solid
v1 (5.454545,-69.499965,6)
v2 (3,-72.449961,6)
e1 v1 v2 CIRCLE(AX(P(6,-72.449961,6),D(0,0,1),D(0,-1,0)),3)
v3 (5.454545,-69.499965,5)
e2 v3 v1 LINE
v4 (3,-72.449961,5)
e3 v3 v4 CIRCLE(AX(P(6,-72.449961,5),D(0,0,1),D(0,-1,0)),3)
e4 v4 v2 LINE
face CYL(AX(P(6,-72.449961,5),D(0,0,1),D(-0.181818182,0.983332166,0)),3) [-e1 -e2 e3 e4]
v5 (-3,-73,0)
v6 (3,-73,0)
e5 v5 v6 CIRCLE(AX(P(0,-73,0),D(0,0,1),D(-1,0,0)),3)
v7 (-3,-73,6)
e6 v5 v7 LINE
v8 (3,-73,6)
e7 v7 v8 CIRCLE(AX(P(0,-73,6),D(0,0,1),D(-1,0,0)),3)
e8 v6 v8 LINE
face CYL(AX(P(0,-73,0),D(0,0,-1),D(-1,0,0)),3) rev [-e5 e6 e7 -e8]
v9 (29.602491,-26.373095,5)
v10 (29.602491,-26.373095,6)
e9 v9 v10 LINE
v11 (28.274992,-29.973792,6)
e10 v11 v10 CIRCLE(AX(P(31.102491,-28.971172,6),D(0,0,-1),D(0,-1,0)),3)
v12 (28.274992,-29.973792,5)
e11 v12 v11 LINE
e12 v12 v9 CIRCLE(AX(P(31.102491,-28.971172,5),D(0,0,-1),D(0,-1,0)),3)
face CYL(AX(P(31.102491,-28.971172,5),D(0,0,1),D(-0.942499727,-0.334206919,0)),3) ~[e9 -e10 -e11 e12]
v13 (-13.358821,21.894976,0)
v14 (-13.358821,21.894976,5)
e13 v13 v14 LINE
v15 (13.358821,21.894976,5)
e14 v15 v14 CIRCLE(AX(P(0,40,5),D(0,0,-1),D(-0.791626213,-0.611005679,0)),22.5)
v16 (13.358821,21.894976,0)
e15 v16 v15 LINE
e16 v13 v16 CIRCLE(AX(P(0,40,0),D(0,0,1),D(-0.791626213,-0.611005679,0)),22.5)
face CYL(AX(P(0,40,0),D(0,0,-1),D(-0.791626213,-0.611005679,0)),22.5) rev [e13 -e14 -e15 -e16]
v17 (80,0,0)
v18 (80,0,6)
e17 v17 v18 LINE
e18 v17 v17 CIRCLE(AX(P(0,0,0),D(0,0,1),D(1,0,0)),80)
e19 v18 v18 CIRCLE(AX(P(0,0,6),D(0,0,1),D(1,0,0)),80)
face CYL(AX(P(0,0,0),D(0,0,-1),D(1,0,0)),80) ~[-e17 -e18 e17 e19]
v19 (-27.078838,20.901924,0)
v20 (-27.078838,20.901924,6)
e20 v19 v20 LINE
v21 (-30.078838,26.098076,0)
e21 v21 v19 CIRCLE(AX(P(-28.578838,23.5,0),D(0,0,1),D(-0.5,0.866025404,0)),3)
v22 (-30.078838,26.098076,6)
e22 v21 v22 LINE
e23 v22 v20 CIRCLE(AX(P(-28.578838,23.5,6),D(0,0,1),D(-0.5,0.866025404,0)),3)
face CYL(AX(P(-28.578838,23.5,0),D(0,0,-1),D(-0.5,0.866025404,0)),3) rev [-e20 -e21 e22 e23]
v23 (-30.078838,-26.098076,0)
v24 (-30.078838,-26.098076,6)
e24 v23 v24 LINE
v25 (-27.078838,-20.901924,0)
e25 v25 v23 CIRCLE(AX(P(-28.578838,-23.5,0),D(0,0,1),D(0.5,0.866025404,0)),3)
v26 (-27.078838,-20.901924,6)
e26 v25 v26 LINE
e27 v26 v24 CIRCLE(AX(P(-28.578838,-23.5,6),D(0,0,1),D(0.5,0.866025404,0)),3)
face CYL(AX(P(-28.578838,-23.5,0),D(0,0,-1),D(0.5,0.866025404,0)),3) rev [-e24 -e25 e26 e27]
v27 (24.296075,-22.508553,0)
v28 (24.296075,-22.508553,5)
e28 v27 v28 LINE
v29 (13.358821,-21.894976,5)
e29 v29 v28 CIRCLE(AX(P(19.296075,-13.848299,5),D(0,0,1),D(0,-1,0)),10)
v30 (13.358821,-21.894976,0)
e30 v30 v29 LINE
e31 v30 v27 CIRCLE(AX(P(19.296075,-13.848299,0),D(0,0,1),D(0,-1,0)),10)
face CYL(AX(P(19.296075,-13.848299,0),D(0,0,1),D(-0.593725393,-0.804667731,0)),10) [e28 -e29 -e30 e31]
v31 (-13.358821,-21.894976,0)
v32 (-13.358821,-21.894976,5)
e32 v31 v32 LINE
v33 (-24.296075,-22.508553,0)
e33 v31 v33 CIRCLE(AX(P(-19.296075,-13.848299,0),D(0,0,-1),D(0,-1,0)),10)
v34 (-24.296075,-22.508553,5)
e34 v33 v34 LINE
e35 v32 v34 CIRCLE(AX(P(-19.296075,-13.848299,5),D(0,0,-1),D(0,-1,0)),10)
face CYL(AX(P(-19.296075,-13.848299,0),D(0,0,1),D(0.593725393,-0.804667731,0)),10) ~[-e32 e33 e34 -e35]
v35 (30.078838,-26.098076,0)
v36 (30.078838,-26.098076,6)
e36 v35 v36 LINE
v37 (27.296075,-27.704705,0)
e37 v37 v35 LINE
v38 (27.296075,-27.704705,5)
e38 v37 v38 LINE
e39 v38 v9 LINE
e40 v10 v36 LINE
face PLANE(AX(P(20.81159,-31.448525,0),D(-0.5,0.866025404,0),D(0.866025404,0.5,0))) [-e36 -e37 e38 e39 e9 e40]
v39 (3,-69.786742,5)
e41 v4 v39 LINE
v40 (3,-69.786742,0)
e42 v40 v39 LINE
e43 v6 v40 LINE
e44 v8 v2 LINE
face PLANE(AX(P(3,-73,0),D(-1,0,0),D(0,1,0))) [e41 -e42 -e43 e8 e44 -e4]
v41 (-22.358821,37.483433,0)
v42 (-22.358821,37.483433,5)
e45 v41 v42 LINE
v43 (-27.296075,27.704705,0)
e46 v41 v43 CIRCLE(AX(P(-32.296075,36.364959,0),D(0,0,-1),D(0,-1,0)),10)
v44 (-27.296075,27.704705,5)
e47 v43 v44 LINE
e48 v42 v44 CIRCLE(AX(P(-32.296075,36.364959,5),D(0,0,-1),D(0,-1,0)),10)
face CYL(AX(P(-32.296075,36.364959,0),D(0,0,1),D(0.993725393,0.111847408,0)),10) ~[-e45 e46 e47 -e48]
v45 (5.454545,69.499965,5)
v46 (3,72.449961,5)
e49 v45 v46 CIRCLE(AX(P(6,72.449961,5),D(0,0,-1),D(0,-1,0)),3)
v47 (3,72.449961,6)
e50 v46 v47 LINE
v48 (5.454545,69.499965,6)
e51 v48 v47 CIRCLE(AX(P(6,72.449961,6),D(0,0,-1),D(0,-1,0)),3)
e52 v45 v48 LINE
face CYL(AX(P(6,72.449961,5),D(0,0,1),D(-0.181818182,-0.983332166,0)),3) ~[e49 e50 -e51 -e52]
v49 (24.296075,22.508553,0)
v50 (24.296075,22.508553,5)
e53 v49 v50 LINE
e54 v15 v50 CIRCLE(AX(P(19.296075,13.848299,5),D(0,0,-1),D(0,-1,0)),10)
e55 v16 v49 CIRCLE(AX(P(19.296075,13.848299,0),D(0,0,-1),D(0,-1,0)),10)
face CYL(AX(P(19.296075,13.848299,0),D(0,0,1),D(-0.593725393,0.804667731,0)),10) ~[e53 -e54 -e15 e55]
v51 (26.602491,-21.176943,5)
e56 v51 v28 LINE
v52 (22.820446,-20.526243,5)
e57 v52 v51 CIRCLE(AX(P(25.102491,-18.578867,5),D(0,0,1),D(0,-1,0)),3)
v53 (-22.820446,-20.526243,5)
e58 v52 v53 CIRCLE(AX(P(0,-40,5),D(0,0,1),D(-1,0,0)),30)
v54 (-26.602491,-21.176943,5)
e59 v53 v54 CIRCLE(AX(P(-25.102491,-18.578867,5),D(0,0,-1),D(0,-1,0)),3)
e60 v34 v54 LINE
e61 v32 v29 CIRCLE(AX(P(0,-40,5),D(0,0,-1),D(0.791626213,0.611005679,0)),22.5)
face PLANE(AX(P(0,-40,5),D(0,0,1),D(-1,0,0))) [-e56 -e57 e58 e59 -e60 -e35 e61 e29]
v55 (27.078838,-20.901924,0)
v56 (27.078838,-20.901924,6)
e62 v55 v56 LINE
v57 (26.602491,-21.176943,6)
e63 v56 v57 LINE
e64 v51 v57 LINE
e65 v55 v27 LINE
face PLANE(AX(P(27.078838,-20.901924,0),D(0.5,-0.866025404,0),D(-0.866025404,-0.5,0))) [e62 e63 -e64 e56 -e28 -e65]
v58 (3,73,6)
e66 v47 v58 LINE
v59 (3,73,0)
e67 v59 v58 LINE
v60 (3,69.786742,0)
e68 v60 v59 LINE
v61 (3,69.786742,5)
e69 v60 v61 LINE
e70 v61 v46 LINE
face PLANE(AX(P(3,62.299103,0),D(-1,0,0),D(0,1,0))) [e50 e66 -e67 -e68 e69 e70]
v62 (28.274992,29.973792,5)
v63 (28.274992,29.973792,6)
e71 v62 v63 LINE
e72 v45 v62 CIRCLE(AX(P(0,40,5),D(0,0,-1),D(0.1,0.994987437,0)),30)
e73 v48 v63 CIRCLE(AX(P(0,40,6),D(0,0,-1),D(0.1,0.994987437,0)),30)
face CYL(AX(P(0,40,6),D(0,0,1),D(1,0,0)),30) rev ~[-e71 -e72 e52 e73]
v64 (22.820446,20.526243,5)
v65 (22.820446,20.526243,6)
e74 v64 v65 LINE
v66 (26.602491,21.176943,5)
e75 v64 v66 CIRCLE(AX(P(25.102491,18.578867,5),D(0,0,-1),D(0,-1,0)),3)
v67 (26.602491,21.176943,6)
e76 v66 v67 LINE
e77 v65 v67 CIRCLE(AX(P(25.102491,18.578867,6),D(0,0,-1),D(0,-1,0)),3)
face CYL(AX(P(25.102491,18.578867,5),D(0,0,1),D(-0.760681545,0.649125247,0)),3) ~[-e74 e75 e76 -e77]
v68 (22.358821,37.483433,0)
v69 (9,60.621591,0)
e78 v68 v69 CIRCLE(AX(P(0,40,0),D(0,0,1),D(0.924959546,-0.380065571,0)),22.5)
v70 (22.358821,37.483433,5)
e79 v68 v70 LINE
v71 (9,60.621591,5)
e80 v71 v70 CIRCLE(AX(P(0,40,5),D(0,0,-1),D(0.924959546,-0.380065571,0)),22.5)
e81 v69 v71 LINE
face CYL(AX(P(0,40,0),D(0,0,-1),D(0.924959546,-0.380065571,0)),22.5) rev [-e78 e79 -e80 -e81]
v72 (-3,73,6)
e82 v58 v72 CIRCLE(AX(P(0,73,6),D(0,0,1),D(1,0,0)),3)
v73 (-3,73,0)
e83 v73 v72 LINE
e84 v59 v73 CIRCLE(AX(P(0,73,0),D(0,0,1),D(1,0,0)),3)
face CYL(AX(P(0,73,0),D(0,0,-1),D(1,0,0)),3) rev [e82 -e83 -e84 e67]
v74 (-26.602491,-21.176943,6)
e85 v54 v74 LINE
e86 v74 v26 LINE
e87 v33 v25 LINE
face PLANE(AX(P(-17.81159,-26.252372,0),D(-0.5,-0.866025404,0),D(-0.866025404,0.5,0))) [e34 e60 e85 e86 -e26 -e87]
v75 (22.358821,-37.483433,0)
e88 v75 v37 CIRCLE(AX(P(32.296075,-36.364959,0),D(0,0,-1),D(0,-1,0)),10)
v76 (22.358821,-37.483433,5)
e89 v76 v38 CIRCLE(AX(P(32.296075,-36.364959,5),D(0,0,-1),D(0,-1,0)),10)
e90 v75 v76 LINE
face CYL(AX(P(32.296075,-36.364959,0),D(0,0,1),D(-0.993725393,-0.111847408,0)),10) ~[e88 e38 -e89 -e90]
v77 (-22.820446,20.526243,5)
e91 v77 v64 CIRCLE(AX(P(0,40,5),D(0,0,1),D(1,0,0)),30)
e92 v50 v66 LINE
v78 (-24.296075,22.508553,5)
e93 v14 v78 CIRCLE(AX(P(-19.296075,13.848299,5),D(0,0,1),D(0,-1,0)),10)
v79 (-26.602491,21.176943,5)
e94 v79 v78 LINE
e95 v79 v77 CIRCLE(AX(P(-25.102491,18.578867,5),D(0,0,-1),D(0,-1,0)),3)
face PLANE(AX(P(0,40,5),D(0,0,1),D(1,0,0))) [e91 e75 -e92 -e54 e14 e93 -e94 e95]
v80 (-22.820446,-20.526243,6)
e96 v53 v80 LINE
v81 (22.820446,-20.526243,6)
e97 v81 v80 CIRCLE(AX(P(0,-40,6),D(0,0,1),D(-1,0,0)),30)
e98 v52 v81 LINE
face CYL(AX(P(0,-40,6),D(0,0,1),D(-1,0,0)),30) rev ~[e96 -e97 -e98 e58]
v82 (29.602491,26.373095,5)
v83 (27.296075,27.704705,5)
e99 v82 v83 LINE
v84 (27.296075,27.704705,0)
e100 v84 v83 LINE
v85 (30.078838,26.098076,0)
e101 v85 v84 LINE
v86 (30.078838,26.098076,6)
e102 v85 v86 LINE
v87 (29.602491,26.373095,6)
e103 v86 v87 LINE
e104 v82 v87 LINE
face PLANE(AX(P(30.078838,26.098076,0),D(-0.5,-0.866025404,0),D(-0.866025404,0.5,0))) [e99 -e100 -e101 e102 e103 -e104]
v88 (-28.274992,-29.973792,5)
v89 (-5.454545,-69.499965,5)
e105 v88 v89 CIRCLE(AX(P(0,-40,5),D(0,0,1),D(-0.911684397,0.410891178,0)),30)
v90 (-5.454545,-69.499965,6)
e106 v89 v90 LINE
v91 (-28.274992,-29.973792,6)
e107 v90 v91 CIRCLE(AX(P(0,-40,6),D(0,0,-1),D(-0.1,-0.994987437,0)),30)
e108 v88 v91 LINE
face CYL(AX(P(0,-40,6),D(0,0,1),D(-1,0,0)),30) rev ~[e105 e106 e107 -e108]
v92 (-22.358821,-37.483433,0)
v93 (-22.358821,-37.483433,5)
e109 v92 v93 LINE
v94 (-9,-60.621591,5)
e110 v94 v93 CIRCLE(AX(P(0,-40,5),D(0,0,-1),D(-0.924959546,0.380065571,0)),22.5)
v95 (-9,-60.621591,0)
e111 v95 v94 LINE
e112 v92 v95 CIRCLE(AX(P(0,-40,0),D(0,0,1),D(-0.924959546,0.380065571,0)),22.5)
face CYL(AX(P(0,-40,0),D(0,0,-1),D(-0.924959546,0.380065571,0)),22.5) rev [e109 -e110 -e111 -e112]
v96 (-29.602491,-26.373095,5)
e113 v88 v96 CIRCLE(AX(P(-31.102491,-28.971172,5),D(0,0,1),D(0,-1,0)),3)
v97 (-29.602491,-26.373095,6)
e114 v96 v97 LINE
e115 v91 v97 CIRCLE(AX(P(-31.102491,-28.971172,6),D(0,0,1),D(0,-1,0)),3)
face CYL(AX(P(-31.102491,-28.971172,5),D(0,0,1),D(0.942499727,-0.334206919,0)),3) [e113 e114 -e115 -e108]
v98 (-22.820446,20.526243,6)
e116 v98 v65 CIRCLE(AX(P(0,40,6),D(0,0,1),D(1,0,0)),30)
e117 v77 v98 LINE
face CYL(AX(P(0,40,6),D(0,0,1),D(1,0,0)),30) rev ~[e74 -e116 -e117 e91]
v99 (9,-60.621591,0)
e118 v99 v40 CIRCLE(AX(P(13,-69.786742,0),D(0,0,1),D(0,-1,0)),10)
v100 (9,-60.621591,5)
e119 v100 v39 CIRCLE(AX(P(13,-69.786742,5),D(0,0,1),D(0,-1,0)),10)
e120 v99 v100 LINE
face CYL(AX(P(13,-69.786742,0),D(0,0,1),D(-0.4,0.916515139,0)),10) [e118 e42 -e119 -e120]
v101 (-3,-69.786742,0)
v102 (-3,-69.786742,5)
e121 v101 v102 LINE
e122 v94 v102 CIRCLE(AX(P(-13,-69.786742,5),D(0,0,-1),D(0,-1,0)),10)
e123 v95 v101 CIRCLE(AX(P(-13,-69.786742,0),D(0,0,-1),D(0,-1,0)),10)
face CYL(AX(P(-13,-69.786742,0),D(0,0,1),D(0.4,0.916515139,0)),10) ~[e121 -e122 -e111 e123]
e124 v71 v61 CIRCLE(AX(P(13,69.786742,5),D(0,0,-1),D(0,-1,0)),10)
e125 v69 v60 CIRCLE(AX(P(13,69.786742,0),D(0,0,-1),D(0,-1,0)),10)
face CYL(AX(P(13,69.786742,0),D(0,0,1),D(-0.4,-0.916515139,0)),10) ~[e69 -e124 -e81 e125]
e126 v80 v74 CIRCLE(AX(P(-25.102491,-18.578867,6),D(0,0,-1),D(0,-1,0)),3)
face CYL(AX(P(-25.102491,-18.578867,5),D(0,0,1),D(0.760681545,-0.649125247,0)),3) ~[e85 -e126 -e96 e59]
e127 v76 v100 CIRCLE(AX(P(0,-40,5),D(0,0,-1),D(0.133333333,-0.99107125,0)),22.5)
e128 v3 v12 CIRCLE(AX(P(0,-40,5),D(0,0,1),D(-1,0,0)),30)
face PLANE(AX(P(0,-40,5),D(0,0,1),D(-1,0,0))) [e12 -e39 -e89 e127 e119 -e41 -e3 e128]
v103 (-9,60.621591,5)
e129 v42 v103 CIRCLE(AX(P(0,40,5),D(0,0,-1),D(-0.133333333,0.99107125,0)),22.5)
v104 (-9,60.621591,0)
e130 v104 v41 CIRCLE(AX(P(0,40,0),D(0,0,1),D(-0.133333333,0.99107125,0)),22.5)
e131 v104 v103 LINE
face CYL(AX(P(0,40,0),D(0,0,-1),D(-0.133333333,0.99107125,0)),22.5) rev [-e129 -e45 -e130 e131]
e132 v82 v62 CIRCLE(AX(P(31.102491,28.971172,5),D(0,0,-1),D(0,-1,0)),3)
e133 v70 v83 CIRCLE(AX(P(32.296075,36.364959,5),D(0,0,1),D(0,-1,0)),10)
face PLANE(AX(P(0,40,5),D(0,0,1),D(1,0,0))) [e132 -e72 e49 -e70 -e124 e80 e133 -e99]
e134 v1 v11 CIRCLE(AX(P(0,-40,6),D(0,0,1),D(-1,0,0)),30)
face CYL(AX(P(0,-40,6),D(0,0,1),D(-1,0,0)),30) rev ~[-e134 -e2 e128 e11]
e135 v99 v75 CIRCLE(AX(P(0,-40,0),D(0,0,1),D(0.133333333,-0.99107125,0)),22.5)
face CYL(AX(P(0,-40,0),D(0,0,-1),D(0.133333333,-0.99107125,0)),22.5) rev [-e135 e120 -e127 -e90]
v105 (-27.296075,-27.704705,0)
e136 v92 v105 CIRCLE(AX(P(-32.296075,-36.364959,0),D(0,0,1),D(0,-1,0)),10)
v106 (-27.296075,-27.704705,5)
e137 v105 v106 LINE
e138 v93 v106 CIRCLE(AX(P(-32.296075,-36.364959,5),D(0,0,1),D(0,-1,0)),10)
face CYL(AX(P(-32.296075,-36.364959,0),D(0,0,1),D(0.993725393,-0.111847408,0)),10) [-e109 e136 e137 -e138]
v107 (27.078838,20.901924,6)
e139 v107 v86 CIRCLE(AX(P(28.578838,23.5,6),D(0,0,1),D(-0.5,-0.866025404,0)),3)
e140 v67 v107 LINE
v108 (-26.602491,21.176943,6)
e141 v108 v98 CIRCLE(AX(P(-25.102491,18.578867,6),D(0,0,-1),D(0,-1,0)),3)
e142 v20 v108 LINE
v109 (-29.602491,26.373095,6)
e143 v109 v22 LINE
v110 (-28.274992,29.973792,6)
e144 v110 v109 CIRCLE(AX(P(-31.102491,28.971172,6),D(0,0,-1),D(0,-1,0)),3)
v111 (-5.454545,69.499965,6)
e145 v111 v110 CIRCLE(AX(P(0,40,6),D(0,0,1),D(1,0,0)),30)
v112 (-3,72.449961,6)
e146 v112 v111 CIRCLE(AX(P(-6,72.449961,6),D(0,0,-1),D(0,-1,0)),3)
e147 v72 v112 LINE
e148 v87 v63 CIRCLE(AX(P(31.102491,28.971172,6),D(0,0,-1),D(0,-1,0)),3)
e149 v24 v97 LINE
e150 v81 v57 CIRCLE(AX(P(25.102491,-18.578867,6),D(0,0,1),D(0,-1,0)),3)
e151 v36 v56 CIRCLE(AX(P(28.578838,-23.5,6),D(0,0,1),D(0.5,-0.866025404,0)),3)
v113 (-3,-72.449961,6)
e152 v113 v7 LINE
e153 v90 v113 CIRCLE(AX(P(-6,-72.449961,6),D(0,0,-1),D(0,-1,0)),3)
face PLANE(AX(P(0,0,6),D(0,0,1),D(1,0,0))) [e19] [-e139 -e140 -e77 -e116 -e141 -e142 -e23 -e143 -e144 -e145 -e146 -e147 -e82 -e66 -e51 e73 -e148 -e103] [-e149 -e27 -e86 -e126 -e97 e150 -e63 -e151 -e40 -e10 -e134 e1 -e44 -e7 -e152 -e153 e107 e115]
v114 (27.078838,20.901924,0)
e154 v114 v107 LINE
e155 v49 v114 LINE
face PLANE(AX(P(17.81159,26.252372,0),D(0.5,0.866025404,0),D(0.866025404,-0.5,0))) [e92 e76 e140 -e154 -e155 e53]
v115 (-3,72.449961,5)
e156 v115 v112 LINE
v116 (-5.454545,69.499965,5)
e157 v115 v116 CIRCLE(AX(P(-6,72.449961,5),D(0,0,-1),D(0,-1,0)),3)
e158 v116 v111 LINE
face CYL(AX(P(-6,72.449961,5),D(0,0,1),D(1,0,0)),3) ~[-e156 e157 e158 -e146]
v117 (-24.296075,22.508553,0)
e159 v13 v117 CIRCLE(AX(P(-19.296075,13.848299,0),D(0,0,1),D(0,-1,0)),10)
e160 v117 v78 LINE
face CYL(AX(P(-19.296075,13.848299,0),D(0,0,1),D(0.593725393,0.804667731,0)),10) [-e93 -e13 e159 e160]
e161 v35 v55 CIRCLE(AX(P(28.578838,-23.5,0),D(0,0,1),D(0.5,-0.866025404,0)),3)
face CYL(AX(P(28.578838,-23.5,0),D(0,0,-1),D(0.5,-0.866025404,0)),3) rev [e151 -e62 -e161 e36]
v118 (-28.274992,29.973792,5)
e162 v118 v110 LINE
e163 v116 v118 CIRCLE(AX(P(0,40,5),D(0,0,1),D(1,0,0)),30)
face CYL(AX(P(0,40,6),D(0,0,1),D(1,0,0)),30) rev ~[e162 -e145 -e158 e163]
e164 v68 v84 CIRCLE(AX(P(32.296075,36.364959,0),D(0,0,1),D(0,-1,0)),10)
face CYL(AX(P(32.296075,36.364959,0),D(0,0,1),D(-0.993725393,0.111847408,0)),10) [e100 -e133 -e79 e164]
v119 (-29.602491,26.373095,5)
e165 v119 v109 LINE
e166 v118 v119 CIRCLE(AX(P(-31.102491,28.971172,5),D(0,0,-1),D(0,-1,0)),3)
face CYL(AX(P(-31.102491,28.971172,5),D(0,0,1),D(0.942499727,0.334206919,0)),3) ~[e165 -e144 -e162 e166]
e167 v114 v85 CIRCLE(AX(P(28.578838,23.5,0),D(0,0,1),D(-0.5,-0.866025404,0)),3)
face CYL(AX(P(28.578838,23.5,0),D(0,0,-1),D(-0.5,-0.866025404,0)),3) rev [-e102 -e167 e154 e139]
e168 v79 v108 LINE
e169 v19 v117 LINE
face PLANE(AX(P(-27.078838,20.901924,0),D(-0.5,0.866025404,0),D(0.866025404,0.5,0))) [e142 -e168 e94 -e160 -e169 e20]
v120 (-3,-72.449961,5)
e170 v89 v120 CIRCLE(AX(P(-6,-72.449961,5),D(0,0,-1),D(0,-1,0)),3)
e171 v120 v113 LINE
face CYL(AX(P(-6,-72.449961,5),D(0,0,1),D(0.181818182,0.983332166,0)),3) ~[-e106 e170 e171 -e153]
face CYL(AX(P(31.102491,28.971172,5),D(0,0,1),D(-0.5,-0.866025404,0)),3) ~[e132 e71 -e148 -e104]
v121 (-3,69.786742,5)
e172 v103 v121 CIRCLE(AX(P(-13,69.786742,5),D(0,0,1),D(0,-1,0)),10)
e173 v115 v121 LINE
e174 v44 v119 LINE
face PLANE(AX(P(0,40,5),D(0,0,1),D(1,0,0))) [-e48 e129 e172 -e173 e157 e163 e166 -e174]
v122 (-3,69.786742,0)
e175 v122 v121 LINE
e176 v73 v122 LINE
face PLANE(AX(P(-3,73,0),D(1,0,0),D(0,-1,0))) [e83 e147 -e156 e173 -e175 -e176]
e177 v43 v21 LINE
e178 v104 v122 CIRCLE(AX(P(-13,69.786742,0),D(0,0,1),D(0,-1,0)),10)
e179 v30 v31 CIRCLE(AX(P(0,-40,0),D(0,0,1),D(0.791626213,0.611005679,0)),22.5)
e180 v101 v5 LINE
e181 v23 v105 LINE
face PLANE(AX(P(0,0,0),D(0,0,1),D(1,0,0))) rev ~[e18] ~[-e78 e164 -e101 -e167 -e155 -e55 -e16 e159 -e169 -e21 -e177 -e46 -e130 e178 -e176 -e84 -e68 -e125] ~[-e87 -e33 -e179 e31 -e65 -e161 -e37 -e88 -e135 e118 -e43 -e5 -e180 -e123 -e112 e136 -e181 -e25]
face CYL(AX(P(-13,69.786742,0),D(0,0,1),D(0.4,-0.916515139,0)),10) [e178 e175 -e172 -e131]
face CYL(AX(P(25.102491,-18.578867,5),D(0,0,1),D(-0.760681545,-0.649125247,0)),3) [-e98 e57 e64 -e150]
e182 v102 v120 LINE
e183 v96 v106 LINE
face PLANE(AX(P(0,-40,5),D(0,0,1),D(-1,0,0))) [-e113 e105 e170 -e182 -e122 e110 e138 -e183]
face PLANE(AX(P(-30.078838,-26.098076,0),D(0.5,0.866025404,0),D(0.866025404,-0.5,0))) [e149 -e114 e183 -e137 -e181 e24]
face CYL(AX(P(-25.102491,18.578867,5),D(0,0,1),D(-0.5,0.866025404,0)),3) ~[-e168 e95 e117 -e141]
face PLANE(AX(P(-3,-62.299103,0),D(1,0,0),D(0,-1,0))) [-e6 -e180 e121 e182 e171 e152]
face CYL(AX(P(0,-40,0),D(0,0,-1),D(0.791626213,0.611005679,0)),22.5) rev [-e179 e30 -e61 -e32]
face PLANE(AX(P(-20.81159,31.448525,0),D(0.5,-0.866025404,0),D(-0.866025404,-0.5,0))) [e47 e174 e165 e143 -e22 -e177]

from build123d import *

# Parameters (mm, degrees)
SKETCH2_R                = 80
BOSS_EXTRUDE1_DEPTH      = 6
CUT_EXTRUDE2_DEPTH       = 6
SKETCH3_R                = 30
CUT_EXTRUDE3_DEPTH       = 1
FILLET1_R                = 3
FILLET2_R                = 10
CIRPATTERN1_COUNT        = 2
FILLET1_OF_CIRPATTERN1_R = 3
FILLET2_OF_CIRPATTERN1_R = 10


with BuildPart() as part:
    # Sketch2 → Boss-Extrude1 (new body)
    with BuildSketch(Plane.XY):
        Circle(SKETCH2_R)
    extrude(amount=BOSS_EXTRUDE1_DEPTH)

    # Sketch1 → Cut-Extrude2 (cut)
    with BuildSketch(Plane.XY):
        with BuildLine():
            ThreePointArc((3, 73), (0, 76), (-3, 73))
            Line((-3, 73), (-3, 62.299103121))
            ThreePointArc((-3, 62.299103121), (-19.485571585, 51.25), (-20.811589784, 31.448524651))
            Line((-20.811589784, 31.448524651), (-30.078838325, 26.098076211))
            ThreePointArc((-30.078838325, 26.098076211), (-31.176914536, 22), (-27.078838325, 20.901923789))
            Line((-27.078838325, 20.901923789), (-17.811589784, 26.252372228))
            ThreePointArc((-17.811589784, 26.252372228), (0, 17.5), (17.811589784, 26.252372228))
            Line((17.811589784, 26.252372228), (27.078838325, 20.901923789))
            ThreePointArc((27.078838325, 20.901923789), (31.176914536, 22), (30.078838325, 26.098076211))
            Line((30.078838325, 26.098076211), (20.811589784, 31.448524651))
            ThreePointArc((20.811589784, 31.448524651), (19.485571585, 51.25), (3, 62.299103121))
            Line((3, 62.299103121), (3, 73))
        make_face()
    cut_extrude2 = extrude(amount=CUT_EXTRUDE2_DEPTH, mode=Mode.SUBTRACT)

    # Sketch3 → Cut-Extrude3 (cut)
    with BuildSketch(Plane.XY.offset(6)):
        with Locations((0, 40)):
            Circle(SKETCH3_R)
    cut_extrude3 = extrude(amount=-CUT_EXTRUDE3_DEPTH, mode=Mode.SUBTRACT)

    # Fillet1
    fillet1_edges = [part.edges().sort_by_distance(p)[0] for p in [
        (24.350531909, 22.477112232, 5.5),
        (-24.350531909, 22.477112232, 5.5),
        (-27.350531909, 27.673264655, 5.5),
        (-3, 69.849623113, 5.5),
        (27.350531909, 27.673264655, 5.5),
        (3, 69.849623113, 5.5),
    ]]
    fillet(fillet1_edges, radius=FILLET1_R)

    # Fillet2
    fillet2_edges = [part.edges().sort_by_distance(p)[0] for p in [
        (-3, 62.299103121, 2.5),
        (-20.811589784, 31.448524651, 2.5),
        (-17.811589784, 26.252372228, 2.5),
        (17.811589784, 26.252372228, 2.5),
        (20.811589784, 31.448524651, 2.5),
        (3, 62.299103121, 2.5),
    ]]
    fillet(fillet2_edges, radius=FILLET2_R)

    # CirPattern1: Cut-Extrude2, Cut-Extrude3 ×2 about axis
    cirpattern1_axis = Axis((0, 0, 6), (0, 0, -1))
    add([cut_extrude2.rotate(cirpattern1_axis, i * 360 / CIRPATTERN1_COUNT) for i in range(1, CIRPATTERN1_COUNT)], mode=Mode.SUBTRACT)
    add([cut_extrude3.rotate(cirpattern1_axis, i * 360 / CIRPATTERN1_COUNT) for i in range(1, CIRPATTERN1_COUNT)], mode=Mode.SUBTRACT)

    # Fillet1 of CirPattern1
    fillet1_of_cirpattern1_edges = [part.edges().sort_by_distance(p)[0] for p in [
        (-24.350531909, -22.477112232, 5.5),
        (24.350531909, -22.477112232, 5.5),
        (27.350531909, -27.673264655, 5.5),
        (3, -69.849623113, 5.5),
        (-27.350531909, -27.673264655, 5.5),
        (-3, -69.849623113, 5.5),
    ]]
    fillet(fillet1_of_cirpattern1_edges, radius=FILLET1_OF_CIRPATTERN1_R)

    # Fillet2 of CirPattern1
    fillet2_of_cirpattern1_edges = [part.edges().sort_by_distance(p)[0] for p in [
        (3, -62.299103121, 2.5),
        (20.811589784, -31.448524651, 2.5),
        (17.811589784, -26.252372228, 2.5),
        (-17.811589784, -26.252372228, 2.5),
        (-20.811589784, -31.448524651, 2.5),
        (-3, -62.299103121, 2.5),
    ]]
    fillet(fillet2_of_cirpattern1_edges, radius=FILLET2_OF_CIRPATTERN1_R)


solid = part.part
